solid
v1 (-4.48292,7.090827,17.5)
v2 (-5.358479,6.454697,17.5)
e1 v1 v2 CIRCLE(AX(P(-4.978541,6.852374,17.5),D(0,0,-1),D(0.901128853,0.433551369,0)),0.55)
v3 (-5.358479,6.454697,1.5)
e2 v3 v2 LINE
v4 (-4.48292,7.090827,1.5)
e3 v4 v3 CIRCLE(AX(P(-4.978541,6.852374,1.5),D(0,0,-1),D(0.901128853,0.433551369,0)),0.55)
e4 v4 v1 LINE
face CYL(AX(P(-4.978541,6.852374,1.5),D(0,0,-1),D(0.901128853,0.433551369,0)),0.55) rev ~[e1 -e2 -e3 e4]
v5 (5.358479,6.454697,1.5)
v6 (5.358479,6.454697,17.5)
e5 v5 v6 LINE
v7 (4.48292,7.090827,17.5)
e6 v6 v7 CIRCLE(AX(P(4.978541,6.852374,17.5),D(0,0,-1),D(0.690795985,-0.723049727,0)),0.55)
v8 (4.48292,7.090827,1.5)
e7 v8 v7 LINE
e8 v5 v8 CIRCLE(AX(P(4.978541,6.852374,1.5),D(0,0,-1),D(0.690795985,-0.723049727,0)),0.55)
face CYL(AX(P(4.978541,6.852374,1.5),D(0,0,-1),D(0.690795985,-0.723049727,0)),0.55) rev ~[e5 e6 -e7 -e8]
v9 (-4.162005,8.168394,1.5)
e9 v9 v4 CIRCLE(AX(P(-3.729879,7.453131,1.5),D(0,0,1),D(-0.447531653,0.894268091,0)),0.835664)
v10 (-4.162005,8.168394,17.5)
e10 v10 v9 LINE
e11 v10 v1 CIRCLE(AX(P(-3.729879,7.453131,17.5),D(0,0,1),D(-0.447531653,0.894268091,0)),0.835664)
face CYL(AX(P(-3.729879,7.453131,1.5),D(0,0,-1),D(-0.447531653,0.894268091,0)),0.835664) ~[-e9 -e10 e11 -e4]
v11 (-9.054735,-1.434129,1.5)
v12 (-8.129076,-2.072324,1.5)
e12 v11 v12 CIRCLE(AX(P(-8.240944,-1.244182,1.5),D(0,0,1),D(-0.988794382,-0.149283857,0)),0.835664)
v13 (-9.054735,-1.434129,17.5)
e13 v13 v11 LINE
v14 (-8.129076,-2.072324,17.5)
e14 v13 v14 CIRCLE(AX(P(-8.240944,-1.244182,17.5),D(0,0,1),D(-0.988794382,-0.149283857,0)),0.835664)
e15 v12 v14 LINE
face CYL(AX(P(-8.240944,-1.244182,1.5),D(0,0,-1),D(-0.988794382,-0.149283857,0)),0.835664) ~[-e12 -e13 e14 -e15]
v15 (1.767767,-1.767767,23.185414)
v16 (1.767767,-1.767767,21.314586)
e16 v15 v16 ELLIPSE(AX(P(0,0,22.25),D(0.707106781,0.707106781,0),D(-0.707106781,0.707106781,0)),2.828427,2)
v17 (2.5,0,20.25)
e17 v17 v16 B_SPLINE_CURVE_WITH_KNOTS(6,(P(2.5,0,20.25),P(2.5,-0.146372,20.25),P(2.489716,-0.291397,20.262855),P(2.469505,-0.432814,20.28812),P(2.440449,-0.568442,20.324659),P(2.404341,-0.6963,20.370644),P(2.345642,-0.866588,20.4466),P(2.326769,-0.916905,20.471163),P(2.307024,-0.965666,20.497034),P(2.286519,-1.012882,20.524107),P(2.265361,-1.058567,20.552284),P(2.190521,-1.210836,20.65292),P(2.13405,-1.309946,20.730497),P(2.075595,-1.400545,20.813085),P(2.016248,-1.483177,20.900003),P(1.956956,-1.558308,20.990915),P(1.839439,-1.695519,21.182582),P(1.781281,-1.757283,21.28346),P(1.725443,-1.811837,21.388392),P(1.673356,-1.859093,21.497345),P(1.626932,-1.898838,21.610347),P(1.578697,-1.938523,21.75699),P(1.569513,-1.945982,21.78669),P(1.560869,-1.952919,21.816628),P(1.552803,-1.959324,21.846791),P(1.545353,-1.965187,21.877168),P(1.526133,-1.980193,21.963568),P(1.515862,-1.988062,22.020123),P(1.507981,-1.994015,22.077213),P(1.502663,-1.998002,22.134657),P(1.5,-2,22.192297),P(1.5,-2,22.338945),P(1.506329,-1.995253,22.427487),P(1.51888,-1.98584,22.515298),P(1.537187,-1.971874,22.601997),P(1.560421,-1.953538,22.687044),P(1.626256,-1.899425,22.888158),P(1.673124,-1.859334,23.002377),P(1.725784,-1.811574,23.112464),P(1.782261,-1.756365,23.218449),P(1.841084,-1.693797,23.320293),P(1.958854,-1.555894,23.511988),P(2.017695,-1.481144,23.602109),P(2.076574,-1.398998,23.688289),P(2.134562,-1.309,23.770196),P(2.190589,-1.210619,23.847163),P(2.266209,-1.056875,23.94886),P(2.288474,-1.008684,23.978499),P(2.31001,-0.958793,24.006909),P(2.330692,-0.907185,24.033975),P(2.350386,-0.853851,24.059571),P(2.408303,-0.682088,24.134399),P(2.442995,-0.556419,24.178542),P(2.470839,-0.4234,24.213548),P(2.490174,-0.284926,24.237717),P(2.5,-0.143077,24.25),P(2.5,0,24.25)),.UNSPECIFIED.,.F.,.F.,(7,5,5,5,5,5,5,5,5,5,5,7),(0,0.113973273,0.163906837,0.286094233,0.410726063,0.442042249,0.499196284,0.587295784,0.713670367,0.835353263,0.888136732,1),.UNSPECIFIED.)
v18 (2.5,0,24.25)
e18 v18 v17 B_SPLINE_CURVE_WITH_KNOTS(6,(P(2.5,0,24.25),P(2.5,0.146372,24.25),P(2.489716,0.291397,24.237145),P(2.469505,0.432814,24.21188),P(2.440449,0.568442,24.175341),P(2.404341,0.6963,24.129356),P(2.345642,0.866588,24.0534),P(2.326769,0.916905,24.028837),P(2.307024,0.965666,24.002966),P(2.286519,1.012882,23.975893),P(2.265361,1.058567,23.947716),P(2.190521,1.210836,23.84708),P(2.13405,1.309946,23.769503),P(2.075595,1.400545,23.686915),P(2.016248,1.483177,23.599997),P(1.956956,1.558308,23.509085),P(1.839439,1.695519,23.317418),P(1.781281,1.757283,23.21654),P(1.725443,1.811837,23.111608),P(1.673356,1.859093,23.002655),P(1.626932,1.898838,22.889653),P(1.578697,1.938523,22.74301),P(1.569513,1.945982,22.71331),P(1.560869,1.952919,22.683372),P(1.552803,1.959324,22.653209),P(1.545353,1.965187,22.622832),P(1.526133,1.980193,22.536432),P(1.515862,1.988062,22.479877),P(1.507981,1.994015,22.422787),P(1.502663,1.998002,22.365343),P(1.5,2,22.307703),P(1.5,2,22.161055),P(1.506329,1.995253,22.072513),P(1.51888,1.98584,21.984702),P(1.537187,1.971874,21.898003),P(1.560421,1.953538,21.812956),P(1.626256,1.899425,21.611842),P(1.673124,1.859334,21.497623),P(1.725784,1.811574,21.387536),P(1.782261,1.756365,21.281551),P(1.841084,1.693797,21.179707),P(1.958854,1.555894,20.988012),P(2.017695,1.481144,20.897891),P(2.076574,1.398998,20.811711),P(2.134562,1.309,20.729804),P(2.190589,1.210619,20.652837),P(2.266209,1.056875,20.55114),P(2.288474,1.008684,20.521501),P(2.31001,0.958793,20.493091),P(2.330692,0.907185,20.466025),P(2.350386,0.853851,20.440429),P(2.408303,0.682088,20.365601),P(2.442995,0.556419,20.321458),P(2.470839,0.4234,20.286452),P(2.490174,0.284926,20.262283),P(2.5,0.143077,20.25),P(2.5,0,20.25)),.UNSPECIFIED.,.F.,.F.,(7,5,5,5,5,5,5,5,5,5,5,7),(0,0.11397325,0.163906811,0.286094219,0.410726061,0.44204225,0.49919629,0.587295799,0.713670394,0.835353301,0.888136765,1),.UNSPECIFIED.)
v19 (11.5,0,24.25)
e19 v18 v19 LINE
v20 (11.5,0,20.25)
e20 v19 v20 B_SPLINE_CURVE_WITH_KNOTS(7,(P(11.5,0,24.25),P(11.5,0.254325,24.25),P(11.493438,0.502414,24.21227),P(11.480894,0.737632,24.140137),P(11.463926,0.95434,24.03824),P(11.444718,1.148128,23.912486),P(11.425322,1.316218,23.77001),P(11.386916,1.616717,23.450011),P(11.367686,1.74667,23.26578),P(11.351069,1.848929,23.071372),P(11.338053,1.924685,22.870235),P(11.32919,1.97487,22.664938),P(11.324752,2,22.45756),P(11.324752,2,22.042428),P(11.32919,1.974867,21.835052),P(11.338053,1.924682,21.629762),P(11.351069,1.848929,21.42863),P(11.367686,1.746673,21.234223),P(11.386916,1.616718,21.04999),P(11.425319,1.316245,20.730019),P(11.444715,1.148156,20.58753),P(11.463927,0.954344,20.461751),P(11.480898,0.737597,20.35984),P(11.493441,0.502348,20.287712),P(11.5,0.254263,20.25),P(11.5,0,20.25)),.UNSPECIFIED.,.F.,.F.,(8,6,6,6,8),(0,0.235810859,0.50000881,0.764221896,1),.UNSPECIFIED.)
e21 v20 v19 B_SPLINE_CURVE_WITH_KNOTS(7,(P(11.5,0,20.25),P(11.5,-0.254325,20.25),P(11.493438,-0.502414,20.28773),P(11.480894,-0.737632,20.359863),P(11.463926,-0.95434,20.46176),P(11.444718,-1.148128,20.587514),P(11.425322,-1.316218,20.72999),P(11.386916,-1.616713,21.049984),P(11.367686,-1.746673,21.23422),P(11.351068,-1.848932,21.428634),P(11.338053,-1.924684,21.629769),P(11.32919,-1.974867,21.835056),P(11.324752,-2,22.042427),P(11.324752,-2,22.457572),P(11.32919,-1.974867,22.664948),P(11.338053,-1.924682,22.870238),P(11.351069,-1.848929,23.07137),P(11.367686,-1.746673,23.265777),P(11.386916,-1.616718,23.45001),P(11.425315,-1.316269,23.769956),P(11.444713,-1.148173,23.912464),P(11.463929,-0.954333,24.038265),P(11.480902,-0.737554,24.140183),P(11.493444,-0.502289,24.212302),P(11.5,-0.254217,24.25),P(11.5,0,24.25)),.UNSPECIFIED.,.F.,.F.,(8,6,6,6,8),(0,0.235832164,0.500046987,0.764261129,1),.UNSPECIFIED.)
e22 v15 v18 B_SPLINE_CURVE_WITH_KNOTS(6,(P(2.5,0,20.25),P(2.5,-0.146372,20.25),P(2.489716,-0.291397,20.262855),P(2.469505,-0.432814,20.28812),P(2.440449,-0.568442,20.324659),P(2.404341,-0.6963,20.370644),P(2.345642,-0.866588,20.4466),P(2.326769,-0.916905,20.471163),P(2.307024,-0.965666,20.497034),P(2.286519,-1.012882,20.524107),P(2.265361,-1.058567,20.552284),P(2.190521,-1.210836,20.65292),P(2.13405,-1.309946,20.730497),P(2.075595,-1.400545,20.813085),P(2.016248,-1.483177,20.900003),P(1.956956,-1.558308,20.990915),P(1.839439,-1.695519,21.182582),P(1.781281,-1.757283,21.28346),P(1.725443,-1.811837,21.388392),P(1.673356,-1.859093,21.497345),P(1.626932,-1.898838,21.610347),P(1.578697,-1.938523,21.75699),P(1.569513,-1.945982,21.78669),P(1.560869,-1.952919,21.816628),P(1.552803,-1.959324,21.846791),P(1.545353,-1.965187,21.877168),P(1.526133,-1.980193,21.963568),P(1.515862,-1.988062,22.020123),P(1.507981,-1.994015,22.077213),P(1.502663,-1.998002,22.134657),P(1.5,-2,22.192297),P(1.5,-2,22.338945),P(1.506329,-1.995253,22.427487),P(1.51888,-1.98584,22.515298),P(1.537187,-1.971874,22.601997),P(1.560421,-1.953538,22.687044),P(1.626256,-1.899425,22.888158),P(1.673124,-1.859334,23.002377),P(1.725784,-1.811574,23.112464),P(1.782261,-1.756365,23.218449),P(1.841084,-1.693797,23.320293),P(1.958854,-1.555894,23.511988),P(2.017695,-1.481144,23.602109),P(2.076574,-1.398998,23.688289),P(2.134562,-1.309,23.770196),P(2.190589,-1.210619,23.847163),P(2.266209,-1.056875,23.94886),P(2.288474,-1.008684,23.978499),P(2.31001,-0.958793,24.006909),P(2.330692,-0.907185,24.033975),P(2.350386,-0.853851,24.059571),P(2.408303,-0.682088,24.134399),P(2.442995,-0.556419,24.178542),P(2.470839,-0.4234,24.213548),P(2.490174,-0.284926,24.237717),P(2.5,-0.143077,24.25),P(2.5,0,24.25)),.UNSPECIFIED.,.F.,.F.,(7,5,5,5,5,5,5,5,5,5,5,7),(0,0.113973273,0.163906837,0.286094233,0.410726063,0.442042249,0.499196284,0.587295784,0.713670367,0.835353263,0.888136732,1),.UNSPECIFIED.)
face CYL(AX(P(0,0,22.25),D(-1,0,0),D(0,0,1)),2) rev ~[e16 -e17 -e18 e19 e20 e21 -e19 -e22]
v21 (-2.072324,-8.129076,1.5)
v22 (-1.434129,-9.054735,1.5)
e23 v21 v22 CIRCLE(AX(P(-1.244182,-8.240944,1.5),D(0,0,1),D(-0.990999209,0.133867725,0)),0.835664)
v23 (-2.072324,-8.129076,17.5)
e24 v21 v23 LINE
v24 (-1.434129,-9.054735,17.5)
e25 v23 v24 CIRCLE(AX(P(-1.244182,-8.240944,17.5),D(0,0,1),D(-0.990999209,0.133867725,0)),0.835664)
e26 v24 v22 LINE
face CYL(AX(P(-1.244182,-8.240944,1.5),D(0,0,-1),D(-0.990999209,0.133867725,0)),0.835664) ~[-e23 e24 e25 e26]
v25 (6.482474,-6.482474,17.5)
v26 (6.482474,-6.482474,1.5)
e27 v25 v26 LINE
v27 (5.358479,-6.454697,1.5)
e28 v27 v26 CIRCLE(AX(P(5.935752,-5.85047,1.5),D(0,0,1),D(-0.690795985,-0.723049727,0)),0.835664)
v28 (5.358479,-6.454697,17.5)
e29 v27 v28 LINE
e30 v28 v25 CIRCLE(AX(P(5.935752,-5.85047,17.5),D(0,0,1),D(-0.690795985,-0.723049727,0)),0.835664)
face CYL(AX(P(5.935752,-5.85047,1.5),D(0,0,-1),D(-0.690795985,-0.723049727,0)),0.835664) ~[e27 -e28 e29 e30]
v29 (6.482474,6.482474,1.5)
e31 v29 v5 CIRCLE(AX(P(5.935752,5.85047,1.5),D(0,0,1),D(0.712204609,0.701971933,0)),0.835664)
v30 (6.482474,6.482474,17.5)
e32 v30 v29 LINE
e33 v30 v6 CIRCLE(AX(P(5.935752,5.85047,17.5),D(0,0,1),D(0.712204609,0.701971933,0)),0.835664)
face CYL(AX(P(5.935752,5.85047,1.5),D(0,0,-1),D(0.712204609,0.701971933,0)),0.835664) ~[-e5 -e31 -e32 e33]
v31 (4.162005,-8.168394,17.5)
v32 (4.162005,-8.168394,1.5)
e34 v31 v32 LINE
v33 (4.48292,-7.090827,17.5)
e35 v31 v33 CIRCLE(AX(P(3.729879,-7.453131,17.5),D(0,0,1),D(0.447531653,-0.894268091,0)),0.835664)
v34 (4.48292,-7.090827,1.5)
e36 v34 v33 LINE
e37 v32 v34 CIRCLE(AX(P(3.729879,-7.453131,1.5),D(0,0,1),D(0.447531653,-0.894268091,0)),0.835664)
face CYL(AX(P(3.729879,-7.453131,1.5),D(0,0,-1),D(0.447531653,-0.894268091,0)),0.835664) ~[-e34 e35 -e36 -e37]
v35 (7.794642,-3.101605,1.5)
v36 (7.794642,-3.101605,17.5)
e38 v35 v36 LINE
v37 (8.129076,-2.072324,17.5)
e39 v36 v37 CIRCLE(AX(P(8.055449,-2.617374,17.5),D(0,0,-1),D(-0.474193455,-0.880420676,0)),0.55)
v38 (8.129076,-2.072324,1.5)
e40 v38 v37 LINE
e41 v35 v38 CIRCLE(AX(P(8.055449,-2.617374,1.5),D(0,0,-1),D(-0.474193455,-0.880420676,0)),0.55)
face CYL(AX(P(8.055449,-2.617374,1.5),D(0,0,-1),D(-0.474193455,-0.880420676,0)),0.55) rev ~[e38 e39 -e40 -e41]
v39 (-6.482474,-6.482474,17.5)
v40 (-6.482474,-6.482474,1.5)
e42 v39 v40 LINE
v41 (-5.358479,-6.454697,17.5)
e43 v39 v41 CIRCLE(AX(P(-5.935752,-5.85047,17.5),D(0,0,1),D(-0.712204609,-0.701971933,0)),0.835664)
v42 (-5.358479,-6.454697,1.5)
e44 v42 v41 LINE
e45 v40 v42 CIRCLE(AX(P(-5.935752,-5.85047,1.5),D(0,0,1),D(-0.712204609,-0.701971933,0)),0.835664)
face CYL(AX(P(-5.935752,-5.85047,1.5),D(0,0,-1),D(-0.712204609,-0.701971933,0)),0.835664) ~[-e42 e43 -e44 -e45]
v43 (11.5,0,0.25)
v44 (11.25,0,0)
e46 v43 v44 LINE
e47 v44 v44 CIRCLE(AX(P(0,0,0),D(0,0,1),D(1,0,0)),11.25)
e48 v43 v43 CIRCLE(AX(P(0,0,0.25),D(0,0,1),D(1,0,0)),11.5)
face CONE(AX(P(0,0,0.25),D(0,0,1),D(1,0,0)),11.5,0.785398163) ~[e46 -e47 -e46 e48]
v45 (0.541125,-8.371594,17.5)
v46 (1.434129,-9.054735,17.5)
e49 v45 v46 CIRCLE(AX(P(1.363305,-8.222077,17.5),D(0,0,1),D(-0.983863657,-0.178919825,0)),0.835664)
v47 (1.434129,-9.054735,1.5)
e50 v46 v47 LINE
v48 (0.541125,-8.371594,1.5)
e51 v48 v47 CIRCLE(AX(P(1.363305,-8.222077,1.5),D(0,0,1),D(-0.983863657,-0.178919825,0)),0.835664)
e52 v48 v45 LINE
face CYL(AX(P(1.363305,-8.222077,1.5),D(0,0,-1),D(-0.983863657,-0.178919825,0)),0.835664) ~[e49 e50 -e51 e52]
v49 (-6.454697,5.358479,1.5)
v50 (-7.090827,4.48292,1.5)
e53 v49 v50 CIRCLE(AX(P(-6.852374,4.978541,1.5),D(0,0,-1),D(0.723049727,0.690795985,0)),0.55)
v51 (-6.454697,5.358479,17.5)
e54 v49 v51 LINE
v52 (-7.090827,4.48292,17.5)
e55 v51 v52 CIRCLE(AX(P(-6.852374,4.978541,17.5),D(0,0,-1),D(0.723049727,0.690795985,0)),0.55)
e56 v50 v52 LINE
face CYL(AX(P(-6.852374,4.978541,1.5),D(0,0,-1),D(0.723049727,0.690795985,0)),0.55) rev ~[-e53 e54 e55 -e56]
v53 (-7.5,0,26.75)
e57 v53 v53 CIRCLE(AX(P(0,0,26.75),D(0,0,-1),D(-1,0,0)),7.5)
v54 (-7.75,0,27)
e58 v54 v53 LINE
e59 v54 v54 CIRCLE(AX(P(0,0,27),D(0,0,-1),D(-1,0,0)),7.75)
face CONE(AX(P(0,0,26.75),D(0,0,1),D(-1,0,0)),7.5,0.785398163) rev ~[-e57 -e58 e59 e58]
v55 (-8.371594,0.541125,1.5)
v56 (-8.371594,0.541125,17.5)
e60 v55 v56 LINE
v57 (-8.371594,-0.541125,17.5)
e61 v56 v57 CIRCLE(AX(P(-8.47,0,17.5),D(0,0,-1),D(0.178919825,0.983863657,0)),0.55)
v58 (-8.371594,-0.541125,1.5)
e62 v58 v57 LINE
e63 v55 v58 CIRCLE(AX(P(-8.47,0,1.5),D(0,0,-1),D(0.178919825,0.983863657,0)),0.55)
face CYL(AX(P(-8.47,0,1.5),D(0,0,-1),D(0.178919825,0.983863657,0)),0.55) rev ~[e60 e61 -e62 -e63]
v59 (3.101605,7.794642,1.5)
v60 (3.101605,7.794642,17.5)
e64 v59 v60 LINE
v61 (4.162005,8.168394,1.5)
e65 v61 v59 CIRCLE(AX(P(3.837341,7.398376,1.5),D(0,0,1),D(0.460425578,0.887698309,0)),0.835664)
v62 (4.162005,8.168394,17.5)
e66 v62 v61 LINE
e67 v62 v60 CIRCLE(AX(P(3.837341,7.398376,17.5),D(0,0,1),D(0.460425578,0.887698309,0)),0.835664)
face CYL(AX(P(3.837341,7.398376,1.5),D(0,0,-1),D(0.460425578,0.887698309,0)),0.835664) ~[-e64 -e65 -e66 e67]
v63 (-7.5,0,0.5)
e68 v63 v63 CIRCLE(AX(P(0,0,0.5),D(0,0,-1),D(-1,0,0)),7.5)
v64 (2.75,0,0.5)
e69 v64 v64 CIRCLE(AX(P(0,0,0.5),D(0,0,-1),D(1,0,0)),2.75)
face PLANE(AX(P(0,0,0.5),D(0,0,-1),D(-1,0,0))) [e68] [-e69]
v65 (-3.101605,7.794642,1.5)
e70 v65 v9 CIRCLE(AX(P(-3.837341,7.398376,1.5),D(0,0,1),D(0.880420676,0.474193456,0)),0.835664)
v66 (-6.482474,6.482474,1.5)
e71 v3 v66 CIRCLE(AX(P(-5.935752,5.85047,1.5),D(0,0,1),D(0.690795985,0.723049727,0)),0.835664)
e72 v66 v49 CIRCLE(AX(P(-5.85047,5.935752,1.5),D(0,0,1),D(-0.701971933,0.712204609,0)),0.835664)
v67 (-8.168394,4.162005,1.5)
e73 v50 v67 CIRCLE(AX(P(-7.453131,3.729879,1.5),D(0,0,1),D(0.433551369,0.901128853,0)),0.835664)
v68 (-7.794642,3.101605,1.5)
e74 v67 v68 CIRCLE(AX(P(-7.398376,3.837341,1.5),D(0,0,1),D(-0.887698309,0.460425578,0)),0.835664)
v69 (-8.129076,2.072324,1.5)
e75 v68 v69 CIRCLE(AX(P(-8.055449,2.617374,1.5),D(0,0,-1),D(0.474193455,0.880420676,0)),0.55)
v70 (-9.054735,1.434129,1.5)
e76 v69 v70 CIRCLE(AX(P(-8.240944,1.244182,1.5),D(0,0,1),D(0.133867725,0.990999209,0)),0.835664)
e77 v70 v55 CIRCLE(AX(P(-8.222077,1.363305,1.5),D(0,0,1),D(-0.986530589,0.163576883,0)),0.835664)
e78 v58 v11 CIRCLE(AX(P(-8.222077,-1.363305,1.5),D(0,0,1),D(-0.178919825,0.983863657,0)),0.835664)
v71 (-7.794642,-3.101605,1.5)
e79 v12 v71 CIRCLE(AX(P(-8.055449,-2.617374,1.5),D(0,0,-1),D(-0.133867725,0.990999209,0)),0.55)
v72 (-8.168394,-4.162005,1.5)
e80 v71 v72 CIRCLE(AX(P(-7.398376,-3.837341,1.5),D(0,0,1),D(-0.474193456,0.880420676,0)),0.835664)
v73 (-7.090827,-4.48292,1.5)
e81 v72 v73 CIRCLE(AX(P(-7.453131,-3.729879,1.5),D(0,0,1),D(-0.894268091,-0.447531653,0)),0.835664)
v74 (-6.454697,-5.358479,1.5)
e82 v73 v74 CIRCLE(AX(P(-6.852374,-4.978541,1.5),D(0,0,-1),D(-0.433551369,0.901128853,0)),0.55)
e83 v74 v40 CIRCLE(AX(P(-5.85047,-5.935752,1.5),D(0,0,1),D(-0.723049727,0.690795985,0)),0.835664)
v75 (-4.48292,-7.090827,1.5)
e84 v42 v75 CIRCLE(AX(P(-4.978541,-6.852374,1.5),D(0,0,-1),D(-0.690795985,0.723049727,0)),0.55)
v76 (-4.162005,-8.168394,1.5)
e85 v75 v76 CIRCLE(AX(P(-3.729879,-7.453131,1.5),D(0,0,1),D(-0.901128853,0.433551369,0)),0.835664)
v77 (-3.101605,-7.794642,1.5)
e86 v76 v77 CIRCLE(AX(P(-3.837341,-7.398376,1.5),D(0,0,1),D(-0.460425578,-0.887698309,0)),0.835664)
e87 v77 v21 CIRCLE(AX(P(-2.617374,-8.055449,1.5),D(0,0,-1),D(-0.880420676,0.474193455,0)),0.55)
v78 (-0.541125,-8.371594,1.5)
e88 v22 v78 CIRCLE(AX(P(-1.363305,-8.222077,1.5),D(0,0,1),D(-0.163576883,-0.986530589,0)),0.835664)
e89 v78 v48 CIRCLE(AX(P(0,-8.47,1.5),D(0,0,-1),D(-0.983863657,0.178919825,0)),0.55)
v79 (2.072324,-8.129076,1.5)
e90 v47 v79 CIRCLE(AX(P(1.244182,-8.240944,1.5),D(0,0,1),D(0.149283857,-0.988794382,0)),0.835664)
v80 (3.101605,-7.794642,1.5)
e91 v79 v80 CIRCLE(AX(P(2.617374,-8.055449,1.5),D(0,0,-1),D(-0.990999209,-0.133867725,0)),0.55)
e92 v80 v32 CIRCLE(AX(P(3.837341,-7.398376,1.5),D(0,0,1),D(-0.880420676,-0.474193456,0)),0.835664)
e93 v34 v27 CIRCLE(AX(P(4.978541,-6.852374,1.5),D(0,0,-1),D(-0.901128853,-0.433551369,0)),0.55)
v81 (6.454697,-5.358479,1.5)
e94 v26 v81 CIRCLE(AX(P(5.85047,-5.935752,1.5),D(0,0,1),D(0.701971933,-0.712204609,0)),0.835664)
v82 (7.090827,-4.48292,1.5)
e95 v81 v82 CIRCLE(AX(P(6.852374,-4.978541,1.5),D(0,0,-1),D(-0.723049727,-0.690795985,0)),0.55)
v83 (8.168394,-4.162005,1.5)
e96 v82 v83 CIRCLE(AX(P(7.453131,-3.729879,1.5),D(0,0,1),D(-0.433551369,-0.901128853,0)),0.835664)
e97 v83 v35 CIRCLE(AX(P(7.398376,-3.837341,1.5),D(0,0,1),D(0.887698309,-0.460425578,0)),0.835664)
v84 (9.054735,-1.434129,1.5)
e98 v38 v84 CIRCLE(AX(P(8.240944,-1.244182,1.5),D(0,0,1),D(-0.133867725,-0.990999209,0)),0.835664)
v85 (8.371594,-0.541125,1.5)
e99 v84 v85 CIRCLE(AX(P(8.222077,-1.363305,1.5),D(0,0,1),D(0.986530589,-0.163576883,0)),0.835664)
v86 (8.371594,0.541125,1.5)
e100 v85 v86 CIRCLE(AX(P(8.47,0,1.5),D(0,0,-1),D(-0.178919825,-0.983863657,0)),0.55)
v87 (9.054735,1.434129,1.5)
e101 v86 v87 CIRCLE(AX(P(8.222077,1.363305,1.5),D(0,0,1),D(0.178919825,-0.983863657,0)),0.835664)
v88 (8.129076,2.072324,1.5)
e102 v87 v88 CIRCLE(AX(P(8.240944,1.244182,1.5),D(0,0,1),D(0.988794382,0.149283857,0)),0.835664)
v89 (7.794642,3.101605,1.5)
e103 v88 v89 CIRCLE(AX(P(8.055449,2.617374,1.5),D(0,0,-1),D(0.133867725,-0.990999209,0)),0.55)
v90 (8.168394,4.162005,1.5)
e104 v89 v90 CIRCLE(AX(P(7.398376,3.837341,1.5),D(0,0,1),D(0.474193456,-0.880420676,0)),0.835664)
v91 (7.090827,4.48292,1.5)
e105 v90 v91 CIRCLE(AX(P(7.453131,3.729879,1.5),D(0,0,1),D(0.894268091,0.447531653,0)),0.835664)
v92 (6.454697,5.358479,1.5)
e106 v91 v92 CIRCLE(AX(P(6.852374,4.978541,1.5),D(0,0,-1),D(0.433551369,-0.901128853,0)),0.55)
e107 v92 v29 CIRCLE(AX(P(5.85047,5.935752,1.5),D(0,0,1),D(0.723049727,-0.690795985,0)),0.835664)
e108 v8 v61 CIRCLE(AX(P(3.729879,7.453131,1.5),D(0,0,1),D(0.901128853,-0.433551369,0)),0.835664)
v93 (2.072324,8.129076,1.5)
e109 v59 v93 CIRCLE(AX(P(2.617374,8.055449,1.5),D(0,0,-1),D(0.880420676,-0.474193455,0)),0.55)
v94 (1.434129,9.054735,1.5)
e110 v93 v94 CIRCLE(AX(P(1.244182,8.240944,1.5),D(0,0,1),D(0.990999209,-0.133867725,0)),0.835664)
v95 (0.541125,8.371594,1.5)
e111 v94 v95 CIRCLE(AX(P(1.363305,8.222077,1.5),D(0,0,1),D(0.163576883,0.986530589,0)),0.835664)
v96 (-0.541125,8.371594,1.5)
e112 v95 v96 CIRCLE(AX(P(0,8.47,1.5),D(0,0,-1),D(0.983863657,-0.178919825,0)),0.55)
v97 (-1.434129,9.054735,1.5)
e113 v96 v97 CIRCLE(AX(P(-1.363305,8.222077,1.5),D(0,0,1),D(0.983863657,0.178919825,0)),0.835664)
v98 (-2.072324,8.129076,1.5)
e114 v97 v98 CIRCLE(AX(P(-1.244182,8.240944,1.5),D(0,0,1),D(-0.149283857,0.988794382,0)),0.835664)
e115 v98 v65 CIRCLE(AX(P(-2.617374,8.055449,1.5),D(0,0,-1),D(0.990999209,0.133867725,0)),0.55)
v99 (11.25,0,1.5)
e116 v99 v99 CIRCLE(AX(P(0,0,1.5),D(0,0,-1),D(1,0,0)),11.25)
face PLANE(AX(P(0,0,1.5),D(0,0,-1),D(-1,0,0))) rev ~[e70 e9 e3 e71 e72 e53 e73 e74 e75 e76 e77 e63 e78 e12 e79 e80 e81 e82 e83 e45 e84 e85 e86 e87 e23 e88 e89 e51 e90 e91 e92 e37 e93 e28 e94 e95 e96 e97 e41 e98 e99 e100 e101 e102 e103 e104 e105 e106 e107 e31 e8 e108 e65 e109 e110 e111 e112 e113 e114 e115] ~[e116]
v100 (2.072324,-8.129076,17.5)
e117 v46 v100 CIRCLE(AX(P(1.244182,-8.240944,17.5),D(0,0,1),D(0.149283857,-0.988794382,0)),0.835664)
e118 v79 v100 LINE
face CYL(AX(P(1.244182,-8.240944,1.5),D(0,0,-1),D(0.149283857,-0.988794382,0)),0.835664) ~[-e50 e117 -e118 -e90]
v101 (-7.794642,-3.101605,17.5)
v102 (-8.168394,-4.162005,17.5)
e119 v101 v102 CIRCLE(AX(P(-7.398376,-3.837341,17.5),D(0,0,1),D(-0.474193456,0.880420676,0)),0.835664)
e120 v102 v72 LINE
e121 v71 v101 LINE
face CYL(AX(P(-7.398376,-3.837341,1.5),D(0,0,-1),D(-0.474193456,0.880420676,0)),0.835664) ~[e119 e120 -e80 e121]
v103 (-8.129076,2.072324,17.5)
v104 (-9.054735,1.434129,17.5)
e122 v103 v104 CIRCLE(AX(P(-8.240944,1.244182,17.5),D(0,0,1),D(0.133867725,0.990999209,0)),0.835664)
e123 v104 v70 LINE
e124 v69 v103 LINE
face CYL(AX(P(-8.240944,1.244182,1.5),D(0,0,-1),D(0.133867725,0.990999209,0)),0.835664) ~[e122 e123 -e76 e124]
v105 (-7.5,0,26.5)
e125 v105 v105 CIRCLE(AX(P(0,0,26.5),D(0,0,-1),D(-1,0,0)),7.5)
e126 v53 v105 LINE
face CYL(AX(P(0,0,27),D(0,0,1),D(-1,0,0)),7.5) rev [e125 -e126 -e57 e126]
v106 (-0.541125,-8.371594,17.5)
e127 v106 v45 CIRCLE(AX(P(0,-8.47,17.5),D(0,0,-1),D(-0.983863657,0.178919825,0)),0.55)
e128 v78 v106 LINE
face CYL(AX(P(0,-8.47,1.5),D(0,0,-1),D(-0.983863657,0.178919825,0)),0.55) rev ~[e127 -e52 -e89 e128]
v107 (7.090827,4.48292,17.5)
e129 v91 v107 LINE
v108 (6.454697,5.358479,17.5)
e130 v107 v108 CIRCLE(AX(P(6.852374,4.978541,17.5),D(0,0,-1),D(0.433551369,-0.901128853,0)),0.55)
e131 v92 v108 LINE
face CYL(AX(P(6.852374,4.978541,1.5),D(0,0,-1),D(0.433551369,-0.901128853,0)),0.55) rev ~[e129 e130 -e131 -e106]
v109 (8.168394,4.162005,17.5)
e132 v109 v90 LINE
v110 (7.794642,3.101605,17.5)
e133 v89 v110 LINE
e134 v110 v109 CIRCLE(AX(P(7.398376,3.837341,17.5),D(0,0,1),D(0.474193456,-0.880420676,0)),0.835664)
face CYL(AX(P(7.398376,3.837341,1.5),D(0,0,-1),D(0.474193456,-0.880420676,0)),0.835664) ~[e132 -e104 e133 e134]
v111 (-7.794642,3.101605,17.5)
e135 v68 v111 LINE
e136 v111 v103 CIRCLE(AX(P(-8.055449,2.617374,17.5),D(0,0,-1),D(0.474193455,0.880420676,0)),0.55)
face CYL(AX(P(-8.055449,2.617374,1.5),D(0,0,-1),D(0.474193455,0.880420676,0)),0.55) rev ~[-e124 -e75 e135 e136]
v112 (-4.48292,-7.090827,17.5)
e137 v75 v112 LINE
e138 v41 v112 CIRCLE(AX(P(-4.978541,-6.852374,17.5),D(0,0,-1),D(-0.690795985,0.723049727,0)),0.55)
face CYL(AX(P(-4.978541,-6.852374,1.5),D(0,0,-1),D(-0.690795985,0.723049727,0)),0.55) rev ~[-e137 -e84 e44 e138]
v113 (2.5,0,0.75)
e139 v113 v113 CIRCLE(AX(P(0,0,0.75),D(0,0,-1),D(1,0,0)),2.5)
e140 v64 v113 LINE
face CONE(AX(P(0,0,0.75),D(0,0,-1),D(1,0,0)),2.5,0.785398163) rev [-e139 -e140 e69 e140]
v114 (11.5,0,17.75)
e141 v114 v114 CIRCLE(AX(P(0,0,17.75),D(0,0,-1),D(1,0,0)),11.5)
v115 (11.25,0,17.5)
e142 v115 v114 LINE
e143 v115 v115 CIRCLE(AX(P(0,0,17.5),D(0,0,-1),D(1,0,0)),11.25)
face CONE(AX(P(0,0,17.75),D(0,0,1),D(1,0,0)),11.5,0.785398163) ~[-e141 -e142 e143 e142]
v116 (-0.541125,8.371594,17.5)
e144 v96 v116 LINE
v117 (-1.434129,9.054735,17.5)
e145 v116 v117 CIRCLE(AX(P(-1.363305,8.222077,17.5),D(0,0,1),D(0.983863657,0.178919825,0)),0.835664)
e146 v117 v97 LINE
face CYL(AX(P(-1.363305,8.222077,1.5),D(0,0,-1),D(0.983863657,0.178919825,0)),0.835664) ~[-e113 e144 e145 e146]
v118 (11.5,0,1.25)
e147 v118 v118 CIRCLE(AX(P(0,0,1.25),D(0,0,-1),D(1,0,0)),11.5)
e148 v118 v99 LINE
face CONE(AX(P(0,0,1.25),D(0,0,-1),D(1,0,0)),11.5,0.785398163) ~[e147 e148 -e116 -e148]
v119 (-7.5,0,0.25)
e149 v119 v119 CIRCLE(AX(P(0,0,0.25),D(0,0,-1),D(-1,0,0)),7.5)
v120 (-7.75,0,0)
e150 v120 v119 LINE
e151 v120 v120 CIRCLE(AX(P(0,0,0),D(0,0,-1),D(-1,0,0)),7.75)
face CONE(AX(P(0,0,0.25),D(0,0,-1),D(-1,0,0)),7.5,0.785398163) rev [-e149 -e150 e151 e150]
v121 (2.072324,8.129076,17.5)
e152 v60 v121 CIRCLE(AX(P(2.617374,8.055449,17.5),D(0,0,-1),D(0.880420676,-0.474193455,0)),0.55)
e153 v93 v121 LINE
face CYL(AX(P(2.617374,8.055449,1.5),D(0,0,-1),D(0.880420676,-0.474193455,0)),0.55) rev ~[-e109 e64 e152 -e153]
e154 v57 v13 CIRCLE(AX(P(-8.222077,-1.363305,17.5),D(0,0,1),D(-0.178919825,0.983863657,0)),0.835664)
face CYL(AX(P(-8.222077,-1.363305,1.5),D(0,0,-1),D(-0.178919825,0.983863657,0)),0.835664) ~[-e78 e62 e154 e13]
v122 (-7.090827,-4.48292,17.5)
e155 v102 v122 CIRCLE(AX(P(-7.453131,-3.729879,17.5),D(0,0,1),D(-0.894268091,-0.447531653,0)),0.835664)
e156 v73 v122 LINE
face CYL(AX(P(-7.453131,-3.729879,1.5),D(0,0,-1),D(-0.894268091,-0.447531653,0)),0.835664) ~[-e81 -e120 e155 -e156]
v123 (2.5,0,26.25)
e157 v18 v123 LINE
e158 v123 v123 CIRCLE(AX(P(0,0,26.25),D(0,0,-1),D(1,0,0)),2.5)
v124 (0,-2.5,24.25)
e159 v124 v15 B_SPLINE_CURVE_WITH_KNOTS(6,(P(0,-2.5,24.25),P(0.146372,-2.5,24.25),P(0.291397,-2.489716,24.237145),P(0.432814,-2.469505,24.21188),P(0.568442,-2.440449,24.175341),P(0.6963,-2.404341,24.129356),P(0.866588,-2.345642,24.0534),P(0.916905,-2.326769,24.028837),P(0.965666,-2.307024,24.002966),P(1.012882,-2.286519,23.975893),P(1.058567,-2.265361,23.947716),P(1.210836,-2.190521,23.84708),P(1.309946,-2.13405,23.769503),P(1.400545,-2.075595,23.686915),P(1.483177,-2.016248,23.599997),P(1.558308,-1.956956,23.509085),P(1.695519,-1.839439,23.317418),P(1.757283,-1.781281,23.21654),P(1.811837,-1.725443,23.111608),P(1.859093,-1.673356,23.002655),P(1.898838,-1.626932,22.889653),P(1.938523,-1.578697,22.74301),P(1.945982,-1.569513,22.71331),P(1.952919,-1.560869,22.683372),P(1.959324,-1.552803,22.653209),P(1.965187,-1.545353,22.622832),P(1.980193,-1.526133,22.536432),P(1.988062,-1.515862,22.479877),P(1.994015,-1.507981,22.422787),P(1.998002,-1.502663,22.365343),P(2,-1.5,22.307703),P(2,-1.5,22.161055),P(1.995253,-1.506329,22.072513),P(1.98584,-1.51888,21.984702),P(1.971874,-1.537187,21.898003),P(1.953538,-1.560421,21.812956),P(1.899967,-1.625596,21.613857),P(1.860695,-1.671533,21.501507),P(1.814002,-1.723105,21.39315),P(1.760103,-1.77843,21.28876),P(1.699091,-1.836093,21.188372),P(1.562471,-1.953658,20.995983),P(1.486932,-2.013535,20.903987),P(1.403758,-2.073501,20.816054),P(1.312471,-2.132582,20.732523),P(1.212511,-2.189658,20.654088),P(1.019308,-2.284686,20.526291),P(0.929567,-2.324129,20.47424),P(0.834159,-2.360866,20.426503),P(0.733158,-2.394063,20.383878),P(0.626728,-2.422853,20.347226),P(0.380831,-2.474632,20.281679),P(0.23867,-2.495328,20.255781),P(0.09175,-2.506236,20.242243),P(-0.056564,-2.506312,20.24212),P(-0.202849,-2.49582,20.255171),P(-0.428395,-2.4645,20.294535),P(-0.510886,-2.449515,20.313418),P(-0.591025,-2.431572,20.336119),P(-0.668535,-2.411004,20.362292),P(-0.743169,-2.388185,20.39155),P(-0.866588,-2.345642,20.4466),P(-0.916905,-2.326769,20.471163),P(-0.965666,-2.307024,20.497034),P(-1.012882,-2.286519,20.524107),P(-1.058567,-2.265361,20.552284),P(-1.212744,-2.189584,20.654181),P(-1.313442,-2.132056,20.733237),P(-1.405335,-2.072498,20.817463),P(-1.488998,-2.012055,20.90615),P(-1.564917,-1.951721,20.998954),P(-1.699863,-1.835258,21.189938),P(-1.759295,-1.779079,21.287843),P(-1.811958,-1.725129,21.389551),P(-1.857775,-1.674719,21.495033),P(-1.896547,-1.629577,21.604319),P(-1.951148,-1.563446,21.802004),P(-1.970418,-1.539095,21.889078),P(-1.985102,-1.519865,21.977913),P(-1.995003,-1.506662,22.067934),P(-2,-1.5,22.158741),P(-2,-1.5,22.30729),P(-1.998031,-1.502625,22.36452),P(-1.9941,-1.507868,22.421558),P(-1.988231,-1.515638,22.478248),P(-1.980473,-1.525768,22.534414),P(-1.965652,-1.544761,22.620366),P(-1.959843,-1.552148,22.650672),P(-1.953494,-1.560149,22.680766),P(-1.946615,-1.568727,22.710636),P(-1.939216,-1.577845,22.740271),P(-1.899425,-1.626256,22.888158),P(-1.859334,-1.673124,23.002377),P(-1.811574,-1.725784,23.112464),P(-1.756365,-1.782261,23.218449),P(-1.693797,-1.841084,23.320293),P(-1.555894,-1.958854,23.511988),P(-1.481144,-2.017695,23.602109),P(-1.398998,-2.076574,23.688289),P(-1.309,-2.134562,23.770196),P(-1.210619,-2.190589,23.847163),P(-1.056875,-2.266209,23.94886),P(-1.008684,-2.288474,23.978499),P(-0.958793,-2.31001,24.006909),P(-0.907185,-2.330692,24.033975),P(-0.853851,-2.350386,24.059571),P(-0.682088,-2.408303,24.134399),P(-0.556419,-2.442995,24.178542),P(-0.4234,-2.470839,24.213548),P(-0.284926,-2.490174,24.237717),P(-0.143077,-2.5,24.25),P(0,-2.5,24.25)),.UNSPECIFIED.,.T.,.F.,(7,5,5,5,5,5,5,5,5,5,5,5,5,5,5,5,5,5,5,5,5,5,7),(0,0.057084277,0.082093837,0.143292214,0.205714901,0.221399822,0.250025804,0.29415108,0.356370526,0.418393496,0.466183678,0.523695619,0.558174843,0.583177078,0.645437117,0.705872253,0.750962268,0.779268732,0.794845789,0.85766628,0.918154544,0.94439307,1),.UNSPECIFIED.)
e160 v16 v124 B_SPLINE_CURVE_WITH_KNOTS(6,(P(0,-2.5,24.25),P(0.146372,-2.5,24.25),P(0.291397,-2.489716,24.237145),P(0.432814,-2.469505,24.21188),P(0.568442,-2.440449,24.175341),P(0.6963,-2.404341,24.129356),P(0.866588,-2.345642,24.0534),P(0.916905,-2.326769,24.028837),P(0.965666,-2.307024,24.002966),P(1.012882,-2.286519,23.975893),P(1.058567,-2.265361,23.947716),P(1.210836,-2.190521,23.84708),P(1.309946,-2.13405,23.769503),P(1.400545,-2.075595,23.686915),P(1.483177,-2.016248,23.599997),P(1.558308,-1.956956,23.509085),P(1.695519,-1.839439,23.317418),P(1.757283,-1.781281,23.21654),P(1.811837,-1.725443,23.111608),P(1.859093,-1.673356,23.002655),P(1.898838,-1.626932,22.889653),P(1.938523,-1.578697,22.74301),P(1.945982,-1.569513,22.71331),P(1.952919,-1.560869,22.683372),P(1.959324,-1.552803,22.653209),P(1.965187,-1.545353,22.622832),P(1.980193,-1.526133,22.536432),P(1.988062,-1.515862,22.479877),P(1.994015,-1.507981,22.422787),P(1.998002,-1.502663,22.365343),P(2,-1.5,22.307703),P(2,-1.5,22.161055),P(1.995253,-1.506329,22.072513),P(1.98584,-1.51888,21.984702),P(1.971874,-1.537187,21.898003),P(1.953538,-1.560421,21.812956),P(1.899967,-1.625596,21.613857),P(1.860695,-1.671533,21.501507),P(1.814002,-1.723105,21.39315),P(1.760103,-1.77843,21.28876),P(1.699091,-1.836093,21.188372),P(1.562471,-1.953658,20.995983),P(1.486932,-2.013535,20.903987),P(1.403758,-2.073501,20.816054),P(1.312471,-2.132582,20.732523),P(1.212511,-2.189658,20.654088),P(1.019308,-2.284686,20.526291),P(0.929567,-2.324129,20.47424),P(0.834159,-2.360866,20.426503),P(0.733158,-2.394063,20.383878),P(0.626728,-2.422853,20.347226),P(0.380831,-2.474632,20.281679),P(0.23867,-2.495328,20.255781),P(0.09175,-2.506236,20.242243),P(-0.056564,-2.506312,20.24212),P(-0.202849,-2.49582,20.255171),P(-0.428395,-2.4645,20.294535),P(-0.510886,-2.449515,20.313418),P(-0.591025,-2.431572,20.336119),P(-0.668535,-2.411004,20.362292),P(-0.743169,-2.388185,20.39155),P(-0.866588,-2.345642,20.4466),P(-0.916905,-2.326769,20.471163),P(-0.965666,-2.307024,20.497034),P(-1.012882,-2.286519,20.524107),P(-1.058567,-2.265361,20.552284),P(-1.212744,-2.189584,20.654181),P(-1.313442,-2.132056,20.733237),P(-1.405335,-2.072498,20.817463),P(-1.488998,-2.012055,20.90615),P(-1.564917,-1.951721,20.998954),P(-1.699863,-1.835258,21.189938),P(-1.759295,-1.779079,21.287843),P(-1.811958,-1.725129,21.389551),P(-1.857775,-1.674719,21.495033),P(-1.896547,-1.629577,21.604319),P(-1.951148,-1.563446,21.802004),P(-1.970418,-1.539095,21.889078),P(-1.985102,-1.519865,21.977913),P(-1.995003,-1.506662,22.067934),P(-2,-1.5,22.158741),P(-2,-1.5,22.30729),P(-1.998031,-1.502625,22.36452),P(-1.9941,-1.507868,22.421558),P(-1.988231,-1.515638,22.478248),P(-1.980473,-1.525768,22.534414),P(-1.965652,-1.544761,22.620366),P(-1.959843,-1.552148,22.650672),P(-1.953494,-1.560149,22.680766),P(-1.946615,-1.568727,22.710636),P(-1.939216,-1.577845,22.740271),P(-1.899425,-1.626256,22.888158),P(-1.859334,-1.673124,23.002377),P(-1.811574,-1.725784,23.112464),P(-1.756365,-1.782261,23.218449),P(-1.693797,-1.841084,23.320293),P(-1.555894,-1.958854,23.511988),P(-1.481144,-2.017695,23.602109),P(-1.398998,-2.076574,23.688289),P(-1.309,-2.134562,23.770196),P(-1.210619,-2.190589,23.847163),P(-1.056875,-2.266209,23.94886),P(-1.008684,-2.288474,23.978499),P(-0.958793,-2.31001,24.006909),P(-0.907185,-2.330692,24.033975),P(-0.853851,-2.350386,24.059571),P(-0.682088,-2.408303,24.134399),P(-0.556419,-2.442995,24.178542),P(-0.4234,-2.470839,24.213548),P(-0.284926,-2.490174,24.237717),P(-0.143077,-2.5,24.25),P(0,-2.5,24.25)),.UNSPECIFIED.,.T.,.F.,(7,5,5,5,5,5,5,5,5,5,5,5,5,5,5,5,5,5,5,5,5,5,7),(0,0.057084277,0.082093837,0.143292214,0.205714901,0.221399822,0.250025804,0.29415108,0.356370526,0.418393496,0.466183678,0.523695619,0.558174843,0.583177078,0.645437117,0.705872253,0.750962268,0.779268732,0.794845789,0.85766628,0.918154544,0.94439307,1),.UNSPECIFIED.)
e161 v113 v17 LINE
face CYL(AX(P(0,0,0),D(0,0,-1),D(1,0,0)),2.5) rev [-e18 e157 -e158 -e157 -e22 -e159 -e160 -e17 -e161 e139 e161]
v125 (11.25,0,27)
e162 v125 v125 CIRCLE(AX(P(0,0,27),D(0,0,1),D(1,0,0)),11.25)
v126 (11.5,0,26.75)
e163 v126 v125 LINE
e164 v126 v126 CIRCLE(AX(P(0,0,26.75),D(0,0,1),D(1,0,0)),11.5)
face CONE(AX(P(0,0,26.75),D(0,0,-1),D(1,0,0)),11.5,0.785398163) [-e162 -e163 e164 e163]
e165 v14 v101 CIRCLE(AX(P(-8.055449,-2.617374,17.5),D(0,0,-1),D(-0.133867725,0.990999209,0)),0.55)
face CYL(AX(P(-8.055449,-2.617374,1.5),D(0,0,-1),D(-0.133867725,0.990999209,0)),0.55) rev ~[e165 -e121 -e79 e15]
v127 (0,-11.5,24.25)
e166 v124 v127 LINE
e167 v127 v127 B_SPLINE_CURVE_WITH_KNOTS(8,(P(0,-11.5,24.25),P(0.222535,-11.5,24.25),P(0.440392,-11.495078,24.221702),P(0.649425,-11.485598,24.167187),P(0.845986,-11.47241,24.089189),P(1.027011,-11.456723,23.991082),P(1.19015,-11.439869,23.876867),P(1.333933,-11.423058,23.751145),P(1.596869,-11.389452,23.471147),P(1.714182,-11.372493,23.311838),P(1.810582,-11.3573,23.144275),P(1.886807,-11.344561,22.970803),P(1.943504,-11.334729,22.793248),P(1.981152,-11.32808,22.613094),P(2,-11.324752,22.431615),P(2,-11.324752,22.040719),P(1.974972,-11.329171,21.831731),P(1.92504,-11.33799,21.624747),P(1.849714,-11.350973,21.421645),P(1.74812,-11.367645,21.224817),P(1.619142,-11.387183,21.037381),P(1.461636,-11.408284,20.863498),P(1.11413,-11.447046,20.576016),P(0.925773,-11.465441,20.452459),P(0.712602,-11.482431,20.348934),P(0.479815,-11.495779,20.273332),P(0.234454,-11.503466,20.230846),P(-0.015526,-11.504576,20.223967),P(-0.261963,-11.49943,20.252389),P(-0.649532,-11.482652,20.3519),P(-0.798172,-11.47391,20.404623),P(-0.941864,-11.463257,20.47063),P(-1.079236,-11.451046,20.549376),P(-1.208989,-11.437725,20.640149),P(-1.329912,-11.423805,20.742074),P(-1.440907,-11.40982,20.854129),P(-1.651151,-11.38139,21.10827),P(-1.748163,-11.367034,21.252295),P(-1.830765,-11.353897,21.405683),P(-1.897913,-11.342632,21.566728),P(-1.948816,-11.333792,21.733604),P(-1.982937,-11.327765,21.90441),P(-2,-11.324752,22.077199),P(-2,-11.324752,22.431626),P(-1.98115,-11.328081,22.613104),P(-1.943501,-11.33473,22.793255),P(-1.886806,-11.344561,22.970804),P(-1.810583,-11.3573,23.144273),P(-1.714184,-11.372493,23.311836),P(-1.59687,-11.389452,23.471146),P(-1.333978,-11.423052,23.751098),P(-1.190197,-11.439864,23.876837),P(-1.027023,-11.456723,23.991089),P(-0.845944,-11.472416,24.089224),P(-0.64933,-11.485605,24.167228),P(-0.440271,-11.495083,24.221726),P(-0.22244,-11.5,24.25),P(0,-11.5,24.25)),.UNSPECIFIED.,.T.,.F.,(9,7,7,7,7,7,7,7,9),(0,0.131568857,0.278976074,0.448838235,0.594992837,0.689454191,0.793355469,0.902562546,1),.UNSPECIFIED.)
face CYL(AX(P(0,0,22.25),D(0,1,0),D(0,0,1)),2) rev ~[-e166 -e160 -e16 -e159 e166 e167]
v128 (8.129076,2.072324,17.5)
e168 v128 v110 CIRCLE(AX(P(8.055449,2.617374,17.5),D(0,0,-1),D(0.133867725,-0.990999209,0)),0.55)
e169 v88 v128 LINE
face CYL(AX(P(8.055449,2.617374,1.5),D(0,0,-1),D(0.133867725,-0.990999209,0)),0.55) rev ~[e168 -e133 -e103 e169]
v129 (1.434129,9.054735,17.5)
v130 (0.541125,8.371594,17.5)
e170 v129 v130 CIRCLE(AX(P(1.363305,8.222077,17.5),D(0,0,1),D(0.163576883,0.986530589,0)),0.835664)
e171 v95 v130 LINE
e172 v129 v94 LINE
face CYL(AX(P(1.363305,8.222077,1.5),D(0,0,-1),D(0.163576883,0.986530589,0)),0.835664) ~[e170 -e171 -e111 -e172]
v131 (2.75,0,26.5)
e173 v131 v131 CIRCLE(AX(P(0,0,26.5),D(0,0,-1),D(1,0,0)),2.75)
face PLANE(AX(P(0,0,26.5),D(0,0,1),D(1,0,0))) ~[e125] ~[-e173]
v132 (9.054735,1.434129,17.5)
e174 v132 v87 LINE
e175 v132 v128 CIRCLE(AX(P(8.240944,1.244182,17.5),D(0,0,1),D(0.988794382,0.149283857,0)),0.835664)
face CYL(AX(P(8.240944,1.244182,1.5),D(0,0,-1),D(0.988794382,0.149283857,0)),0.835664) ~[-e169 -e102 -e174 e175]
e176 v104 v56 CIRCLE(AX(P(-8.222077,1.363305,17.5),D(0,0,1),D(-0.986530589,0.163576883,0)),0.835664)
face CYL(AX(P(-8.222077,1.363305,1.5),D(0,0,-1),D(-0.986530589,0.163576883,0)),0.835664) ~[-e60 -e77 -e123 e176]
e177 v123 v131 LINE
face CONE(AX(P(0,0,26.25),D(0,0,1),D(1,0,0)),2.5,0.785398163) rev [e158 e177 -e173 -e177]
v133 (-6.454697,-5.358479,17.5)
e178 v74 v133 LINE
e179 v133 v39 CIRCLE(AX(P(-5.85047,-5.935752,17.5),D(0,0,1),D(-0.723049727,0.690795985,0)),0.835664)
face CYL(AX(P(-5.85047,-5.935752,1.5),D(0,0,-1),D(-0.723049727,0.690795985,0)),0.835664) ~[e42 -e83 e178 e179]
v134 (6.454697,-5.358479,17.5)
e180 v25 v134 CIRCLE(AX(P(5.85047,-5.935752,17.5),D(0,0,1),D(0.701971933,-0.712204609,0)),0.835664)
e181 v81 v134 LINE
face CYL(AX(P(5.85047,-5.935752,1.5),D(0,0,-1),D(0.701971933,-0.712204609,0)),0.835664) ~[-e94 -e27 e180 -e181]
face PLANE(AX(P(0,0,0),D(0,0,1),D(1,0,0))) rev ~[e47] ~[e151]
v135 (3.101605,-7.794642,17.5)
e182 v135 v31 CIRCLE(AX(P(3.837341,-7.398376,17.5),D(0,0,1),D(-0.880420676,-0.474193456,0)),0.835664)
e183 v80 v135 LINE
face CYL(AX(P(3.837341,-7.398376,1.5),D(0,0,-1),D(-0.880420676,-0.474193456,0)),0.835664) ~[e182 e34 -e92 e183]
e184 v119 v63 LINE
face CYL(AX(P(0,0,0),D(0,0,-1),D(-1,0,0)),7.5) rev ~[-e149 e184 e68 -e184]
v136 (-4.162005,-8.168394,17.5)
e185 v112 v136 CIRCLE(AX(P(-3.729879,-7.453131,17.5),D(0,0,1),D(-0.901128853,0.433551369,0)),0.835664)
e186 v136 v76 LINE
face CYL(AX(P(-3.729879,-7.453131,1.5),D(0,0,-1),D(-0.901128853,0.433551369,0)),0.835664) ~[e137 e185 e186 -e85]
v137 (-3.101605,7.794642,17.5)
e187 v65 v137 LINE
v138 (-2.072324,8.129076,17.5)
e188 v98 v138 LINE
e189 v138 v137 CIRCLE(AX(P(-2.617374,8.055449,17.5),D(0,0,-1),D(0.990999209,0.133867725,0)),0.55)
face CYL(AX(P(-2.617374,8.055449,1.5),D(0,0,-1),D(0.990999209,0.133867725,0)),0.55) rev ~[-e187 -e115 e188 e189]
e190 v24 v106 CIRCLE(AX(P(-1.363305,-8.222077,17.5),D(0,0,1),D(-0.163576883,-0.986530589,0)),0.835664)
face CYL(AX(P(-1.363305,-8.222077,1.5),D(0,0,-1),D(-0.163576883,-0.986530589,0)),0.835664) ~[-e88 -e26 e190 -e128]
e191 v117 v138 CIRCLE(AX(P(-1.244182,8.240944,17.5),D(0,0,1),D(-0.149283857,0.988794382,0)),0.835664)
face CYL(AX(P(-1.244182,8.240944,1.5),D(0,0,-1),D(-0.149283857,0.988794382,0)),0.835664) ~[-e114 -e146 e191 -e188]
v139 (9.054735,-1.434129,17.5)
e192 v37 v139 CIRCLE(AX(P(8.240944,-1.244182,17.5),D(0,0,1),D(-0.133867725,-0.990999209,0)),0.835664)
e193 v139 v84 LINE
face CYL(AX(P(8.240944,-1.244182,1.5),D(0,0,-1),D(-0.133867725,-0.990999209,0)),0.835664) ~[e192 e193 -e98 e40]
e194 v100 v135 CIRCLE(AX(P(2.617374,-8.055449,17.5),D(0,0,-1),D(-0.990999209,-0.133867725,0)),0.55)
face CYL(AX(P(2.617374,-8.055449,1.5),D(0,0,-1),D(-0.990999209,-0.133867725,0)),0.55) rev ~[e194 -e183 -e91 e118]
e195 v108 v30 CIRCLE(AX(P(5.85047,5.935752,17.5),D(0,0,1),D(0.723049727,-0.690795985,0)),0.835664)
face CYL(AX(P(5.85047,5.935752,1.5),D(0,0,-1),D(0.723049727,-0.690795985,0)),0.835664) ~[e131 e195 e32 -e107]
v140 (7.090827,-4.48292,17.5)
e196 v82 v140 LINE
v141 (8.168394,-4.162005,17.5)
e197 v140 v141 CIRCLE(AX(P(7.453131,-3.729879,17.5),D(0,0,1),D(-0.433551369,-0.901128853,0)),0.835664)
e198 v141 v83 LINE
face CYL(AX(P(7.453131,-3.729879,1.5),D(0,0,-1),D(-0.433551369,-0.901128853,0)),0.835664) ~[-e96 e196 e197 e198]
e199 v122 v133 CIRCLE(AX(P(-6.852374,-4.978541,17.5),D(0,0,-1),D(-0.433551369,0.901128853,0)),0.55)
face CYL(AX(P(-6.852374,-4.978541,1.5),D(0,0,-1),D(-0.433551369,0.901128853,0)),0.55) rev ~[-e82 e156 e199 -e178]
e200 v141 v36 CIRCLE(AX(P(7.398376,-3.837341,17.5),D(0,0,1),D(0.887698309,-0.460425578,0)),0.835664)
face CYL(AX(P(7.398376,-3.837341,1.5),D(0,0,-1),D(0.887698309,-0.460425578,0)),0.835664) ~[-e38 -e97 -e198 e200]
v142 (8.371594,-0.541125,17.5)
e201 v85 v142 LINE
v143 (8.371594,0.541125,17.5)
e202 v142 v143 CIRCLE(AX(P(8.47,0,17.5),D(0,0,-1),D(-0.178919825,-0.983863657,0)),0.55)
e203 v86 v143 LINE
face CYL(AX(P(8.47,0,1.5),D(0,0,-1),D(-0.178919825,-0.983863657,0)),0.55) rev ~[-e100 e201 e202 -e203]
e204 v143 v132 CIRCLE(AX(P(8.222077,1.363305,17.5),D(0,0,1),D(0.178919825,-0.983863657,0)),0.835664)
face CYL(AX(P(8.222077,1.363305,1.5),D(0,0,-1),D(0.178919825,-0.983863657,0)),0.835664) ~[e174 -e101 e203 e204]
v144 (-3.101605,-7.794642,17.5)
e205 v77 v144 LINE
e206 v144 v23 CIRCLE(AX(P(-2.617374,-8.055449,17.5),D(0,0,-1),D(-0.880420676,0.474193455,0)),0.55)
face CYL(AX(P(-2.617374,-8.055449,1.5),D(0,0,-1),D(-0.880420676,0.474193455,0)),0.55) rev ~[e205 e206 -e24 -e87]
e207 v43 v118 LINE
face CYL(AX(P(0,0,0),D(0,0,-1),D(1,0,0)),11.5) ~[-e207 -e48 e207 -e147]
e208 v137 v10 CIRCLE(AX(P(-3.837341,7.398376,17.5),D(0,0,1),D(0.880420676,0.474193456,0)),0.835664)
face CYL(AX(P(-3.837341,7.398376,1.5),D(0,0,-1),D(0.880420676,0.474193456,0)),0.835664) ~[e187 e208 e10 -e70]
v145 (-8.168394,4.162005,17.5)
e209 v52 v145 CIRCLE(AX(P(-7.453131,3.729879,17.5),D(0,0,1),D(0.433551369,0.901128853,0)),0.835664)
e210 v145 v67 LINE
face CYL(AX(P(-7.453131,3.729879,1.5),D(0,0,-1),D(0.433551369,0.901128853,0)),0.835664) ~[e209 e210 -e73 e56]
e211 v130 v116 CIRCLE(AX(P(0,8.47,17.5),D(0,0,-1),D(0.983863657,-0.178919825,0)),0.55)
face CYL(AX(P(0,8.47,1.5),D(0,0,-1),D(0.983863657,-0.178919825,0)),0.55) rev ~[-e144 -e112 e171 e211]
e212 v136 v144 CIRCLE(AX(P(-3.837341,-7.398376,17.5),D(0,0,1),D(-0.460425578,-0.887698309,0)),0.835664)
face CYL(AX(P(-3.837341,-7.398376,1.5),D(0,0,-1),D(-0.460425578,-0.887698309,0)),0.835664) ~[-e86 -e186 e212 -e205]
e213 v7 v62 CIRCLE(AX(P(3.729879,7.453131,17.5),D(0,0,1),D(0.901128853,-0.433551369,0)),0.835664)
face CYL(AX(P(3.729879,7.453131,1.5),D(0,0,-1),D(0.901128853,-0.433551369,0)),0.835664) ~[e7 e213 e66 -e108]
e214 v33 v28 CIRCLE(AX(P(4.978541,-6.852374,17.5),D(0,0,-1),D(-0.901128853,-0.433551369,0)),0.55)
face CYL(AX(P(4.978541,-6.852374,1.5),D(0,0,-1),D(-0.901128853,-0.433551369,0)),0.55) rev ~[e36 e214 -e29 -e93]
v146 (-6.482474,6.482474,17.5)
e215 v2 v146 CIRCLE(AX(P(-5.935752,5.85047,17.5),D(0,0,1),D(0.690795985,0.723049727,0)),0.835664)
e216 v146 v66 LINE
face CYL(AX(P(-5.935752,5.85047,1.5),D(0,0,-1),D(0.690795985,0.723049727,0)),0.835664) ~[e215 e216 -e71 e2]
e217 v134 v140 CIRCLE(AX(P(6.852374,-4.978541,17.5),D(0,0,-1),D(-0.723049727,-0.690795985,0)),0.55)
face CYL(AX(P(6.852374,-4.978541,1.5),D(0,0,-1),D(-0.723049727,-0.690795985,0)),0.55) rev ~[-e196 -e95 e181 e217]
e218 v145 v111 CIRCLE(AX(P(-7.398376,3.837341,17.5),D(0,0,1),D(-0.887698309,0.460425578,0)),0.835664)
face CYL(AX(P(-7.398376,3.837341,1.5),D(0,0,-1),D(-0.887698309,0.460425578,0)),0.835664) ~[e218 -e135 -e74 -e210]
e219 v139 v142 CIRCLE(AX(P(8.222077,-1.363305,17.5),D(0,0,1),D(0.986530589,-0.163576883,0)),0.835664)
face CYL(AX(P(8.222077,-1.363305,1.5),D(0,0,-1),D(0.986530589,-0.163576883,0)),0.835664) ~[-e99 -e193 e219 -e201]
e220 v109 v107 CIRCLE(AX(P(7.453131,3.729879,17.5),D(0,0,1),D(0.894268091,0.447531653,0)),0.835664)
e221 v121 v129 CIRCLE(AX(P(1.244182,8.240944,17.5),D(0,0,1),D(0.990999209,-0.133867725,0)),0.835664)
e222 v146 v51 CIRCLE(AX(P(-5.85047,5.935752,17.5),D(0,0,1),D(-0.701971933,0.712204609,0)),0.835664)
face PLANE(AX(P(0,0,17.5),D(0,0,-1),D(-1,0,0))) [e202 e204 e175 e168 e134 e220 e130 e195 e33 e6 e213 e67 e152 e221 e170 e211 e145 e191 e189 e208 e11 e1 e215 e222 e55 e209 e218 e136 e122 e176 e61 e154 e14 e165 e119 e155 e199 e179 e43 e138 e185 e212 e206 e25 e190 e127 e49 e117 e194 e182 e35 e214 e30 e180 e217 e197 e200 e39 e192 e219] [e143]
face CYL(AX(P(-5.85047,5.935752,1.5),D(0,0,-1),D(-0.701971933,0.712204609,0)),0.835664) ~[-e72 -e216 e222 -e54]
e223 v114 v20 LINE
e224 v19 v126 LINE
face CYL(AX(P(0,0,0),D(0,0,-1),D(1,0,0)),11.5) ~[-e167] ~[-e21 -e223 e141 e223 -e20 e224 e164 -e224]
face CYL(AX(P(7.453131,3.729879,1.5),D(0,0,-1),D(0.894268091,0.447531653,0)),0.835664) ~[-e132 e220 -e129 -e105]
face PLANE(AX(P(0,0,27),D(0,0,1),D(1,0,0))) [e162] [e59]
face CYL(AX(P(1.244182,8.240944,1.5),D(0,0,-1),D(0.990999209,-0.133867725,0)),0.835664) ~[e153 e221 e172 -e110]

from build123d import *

# Parameters (mm, degrees)
ESQUISSE1_R                  = 11.5
ESQUISSE1_R_2                = 2.5
BOSS_EXTRU_1_DEPTH           = 27
ESQUISSE2_R                  = 11.5
ESQUISSE2_R_2                = 9.17
ENL_V_MAT_EXTRU_1_DEPTH      = 16
ENL_V_START                  = 16
ENL_V_MAT_EXTRU_2_DEPTH      = 16
R_P_TITION_CIRCULAIRE1_COUNT = 20
ESQUISSE4_R                  = 2
ENL_V_MAT_EXTRU_3_DEPTH      = 16
R_P_TITION_CIRCULAIRE2_COUNT = 2
R_P_TITION_CIRCULAIRE2_ANGLE = 90
ESQUISSE5_R                  = 7.5
ENL_V_MAT_EXTRU_4_DEPTH      = 0.5
CHANFREIN1_SIZE              = 0.25


with BuildPart() as part:
    # Esquisse1 → Boss.-Extru.1 (new body)
    with BuildSketch(Plane.XY):
        Circle(ESQUISSE1_R)
        Circle(ESQUISSE1_R_2, mode=Mode.SUBTRACT)
    extrude(amount=BOSS_EXTRU_1_DEPTH)

    # Esquisse2 → Enlèv. mat.-Extru.1 (cut)
    with BuildSketch(Plane(origin=(0, 0, 1.5), x_dir=(-1, 0, 0), z_dir=(0, 0, -1))):
        Circle(ESQUISSE2_R)
        Circle(ESQUISSE2_R_2, mode=Mode.SUBTRACT)
    extrude(amount=-ENL_V_MAT_EXTRU_1_DEPTH, mode=Mode.SUBTRACT)

    # Esquisse3 → Enlèv. mat.-Extru.2 (cut)
    with BuildSketch(Plane(origin=(0, 0, 17.5), x_dir=(-1, 0, 0), z_dir=(0, 0, -1)).offset(ENL_V_START)):
        with BuildLine():
            ThreePointArc((-1.5, 9.046485505), (-0.88232463, 8.905445978), (-0.541125011, 8.371594096))
            ThreePointArc((-0.541125011, 8.371594096), (0, 7.92), (0.541125011, 8.371594096))
            ThreePointArc((0.541125011, 8.371594096), (0.88232463, 8.905445978), (1.5, 9.046485505))
            ThreePointArc((1.5, 9.046485505), (0, 9.17), (-1.5, 9.046485505))
        make_face()
    enl_v_mat_extru_2 = extrude(amount=-ENL_V_MAT_EXTRU_2_DEPTH, mode=Mode.SUBTRACT)

    # Répétition circulaire1: Enlèv. mat.-Extru.2 ×20 about axis
    r_p_tition_circulaire1_axis = Axis((0, 0, 0), (0, 0, 1))
    for i in range(1, R_P_TITION_CIRCULAIRE1_COUNT):
        add(enl_v_mat_extru_2.rotate(r_p_tition_circulaire1_axis, i * 360 / R_P_TITION_CIRCULAIRE1_COUNT), mode=Mode.SUBTRACT)

    # Esquisse4 → Enlèv. mat.-Extru.3 (cut)
    with BuildSketch(Plane(origin=(0, 0, 0), x_dir=(1, 0, 0), z_dir=(0, 1, 0))):
        with Locations(Location((0, -22.25, 0), (0, 0, 270))):
            Circle(ESQUISSE4_R)
    enl_v_mat_extru_3 = extrude(amount=-ENL_V_MAT_EXTRU_3_DEPTH, mode=Mode.SUBTRACT)

    # Répétition circulaire2: Enlèv. mat.-Extru.3 ×2 about axis
    r_p_tition_circulaire2_axis = Axis((0, 0, 27), (0, 0, 1))
    for i in range(1, R_P_TITION_CIRCULAIRE2_COUNT):
        add(enl_v_mat_extru_3.rotate(r_p_tition_circulaire2_axis, i * R_P_TITION_CIRCULAIRE2_ANGLE / (R_P_TITION_CIRCULAIRE2_COUNT - 1)), mode=Mode.SUBTRACT)

    # Esquisse5 → Enlèv. mat.-Extru.4 (cut)
    with BuildSketch(Plane(origin=(0, 0, 0), x_dir=(-1, 0, 0), z_dir=(0, 0, -1))):
        Circle(ESQUISSE5_R)
    enl_v_mat_extru_4 = extrude(amount=-ENL_V_MAT_EXTRU_4_DEPTH, mode=Mode.SUBTRACT)

    # Symétrie1: Enlèv. mat.-Extru.4 across plane
    add(enl_v_mat_extru_4.mirror(Plane(origin=(0, 0, 13.5), x_dir=(1, 0, 0), z_dir=(0, 0, -1))), mode=Mode.SUBTRACT)

    # Chanfrein1
    chanfrein1_edges = [part.edges().sort_by_distance(p)[0] for p in [
        (-11.5, 0, 17.5),
        (-11.5, 0, 1.5),
        (-2.5, 0, 0.5),
        (7.5, 0, 0),
        (-11.5, 0, 0),
        (7.5, 0, 27),
        (-2.5, 0, 26.5),
        (-11.5, 0, 27),
    ]]
    chamfer(chanfrein1_edges, length=CHANFREIN1_SIZE)


solid = part.part
